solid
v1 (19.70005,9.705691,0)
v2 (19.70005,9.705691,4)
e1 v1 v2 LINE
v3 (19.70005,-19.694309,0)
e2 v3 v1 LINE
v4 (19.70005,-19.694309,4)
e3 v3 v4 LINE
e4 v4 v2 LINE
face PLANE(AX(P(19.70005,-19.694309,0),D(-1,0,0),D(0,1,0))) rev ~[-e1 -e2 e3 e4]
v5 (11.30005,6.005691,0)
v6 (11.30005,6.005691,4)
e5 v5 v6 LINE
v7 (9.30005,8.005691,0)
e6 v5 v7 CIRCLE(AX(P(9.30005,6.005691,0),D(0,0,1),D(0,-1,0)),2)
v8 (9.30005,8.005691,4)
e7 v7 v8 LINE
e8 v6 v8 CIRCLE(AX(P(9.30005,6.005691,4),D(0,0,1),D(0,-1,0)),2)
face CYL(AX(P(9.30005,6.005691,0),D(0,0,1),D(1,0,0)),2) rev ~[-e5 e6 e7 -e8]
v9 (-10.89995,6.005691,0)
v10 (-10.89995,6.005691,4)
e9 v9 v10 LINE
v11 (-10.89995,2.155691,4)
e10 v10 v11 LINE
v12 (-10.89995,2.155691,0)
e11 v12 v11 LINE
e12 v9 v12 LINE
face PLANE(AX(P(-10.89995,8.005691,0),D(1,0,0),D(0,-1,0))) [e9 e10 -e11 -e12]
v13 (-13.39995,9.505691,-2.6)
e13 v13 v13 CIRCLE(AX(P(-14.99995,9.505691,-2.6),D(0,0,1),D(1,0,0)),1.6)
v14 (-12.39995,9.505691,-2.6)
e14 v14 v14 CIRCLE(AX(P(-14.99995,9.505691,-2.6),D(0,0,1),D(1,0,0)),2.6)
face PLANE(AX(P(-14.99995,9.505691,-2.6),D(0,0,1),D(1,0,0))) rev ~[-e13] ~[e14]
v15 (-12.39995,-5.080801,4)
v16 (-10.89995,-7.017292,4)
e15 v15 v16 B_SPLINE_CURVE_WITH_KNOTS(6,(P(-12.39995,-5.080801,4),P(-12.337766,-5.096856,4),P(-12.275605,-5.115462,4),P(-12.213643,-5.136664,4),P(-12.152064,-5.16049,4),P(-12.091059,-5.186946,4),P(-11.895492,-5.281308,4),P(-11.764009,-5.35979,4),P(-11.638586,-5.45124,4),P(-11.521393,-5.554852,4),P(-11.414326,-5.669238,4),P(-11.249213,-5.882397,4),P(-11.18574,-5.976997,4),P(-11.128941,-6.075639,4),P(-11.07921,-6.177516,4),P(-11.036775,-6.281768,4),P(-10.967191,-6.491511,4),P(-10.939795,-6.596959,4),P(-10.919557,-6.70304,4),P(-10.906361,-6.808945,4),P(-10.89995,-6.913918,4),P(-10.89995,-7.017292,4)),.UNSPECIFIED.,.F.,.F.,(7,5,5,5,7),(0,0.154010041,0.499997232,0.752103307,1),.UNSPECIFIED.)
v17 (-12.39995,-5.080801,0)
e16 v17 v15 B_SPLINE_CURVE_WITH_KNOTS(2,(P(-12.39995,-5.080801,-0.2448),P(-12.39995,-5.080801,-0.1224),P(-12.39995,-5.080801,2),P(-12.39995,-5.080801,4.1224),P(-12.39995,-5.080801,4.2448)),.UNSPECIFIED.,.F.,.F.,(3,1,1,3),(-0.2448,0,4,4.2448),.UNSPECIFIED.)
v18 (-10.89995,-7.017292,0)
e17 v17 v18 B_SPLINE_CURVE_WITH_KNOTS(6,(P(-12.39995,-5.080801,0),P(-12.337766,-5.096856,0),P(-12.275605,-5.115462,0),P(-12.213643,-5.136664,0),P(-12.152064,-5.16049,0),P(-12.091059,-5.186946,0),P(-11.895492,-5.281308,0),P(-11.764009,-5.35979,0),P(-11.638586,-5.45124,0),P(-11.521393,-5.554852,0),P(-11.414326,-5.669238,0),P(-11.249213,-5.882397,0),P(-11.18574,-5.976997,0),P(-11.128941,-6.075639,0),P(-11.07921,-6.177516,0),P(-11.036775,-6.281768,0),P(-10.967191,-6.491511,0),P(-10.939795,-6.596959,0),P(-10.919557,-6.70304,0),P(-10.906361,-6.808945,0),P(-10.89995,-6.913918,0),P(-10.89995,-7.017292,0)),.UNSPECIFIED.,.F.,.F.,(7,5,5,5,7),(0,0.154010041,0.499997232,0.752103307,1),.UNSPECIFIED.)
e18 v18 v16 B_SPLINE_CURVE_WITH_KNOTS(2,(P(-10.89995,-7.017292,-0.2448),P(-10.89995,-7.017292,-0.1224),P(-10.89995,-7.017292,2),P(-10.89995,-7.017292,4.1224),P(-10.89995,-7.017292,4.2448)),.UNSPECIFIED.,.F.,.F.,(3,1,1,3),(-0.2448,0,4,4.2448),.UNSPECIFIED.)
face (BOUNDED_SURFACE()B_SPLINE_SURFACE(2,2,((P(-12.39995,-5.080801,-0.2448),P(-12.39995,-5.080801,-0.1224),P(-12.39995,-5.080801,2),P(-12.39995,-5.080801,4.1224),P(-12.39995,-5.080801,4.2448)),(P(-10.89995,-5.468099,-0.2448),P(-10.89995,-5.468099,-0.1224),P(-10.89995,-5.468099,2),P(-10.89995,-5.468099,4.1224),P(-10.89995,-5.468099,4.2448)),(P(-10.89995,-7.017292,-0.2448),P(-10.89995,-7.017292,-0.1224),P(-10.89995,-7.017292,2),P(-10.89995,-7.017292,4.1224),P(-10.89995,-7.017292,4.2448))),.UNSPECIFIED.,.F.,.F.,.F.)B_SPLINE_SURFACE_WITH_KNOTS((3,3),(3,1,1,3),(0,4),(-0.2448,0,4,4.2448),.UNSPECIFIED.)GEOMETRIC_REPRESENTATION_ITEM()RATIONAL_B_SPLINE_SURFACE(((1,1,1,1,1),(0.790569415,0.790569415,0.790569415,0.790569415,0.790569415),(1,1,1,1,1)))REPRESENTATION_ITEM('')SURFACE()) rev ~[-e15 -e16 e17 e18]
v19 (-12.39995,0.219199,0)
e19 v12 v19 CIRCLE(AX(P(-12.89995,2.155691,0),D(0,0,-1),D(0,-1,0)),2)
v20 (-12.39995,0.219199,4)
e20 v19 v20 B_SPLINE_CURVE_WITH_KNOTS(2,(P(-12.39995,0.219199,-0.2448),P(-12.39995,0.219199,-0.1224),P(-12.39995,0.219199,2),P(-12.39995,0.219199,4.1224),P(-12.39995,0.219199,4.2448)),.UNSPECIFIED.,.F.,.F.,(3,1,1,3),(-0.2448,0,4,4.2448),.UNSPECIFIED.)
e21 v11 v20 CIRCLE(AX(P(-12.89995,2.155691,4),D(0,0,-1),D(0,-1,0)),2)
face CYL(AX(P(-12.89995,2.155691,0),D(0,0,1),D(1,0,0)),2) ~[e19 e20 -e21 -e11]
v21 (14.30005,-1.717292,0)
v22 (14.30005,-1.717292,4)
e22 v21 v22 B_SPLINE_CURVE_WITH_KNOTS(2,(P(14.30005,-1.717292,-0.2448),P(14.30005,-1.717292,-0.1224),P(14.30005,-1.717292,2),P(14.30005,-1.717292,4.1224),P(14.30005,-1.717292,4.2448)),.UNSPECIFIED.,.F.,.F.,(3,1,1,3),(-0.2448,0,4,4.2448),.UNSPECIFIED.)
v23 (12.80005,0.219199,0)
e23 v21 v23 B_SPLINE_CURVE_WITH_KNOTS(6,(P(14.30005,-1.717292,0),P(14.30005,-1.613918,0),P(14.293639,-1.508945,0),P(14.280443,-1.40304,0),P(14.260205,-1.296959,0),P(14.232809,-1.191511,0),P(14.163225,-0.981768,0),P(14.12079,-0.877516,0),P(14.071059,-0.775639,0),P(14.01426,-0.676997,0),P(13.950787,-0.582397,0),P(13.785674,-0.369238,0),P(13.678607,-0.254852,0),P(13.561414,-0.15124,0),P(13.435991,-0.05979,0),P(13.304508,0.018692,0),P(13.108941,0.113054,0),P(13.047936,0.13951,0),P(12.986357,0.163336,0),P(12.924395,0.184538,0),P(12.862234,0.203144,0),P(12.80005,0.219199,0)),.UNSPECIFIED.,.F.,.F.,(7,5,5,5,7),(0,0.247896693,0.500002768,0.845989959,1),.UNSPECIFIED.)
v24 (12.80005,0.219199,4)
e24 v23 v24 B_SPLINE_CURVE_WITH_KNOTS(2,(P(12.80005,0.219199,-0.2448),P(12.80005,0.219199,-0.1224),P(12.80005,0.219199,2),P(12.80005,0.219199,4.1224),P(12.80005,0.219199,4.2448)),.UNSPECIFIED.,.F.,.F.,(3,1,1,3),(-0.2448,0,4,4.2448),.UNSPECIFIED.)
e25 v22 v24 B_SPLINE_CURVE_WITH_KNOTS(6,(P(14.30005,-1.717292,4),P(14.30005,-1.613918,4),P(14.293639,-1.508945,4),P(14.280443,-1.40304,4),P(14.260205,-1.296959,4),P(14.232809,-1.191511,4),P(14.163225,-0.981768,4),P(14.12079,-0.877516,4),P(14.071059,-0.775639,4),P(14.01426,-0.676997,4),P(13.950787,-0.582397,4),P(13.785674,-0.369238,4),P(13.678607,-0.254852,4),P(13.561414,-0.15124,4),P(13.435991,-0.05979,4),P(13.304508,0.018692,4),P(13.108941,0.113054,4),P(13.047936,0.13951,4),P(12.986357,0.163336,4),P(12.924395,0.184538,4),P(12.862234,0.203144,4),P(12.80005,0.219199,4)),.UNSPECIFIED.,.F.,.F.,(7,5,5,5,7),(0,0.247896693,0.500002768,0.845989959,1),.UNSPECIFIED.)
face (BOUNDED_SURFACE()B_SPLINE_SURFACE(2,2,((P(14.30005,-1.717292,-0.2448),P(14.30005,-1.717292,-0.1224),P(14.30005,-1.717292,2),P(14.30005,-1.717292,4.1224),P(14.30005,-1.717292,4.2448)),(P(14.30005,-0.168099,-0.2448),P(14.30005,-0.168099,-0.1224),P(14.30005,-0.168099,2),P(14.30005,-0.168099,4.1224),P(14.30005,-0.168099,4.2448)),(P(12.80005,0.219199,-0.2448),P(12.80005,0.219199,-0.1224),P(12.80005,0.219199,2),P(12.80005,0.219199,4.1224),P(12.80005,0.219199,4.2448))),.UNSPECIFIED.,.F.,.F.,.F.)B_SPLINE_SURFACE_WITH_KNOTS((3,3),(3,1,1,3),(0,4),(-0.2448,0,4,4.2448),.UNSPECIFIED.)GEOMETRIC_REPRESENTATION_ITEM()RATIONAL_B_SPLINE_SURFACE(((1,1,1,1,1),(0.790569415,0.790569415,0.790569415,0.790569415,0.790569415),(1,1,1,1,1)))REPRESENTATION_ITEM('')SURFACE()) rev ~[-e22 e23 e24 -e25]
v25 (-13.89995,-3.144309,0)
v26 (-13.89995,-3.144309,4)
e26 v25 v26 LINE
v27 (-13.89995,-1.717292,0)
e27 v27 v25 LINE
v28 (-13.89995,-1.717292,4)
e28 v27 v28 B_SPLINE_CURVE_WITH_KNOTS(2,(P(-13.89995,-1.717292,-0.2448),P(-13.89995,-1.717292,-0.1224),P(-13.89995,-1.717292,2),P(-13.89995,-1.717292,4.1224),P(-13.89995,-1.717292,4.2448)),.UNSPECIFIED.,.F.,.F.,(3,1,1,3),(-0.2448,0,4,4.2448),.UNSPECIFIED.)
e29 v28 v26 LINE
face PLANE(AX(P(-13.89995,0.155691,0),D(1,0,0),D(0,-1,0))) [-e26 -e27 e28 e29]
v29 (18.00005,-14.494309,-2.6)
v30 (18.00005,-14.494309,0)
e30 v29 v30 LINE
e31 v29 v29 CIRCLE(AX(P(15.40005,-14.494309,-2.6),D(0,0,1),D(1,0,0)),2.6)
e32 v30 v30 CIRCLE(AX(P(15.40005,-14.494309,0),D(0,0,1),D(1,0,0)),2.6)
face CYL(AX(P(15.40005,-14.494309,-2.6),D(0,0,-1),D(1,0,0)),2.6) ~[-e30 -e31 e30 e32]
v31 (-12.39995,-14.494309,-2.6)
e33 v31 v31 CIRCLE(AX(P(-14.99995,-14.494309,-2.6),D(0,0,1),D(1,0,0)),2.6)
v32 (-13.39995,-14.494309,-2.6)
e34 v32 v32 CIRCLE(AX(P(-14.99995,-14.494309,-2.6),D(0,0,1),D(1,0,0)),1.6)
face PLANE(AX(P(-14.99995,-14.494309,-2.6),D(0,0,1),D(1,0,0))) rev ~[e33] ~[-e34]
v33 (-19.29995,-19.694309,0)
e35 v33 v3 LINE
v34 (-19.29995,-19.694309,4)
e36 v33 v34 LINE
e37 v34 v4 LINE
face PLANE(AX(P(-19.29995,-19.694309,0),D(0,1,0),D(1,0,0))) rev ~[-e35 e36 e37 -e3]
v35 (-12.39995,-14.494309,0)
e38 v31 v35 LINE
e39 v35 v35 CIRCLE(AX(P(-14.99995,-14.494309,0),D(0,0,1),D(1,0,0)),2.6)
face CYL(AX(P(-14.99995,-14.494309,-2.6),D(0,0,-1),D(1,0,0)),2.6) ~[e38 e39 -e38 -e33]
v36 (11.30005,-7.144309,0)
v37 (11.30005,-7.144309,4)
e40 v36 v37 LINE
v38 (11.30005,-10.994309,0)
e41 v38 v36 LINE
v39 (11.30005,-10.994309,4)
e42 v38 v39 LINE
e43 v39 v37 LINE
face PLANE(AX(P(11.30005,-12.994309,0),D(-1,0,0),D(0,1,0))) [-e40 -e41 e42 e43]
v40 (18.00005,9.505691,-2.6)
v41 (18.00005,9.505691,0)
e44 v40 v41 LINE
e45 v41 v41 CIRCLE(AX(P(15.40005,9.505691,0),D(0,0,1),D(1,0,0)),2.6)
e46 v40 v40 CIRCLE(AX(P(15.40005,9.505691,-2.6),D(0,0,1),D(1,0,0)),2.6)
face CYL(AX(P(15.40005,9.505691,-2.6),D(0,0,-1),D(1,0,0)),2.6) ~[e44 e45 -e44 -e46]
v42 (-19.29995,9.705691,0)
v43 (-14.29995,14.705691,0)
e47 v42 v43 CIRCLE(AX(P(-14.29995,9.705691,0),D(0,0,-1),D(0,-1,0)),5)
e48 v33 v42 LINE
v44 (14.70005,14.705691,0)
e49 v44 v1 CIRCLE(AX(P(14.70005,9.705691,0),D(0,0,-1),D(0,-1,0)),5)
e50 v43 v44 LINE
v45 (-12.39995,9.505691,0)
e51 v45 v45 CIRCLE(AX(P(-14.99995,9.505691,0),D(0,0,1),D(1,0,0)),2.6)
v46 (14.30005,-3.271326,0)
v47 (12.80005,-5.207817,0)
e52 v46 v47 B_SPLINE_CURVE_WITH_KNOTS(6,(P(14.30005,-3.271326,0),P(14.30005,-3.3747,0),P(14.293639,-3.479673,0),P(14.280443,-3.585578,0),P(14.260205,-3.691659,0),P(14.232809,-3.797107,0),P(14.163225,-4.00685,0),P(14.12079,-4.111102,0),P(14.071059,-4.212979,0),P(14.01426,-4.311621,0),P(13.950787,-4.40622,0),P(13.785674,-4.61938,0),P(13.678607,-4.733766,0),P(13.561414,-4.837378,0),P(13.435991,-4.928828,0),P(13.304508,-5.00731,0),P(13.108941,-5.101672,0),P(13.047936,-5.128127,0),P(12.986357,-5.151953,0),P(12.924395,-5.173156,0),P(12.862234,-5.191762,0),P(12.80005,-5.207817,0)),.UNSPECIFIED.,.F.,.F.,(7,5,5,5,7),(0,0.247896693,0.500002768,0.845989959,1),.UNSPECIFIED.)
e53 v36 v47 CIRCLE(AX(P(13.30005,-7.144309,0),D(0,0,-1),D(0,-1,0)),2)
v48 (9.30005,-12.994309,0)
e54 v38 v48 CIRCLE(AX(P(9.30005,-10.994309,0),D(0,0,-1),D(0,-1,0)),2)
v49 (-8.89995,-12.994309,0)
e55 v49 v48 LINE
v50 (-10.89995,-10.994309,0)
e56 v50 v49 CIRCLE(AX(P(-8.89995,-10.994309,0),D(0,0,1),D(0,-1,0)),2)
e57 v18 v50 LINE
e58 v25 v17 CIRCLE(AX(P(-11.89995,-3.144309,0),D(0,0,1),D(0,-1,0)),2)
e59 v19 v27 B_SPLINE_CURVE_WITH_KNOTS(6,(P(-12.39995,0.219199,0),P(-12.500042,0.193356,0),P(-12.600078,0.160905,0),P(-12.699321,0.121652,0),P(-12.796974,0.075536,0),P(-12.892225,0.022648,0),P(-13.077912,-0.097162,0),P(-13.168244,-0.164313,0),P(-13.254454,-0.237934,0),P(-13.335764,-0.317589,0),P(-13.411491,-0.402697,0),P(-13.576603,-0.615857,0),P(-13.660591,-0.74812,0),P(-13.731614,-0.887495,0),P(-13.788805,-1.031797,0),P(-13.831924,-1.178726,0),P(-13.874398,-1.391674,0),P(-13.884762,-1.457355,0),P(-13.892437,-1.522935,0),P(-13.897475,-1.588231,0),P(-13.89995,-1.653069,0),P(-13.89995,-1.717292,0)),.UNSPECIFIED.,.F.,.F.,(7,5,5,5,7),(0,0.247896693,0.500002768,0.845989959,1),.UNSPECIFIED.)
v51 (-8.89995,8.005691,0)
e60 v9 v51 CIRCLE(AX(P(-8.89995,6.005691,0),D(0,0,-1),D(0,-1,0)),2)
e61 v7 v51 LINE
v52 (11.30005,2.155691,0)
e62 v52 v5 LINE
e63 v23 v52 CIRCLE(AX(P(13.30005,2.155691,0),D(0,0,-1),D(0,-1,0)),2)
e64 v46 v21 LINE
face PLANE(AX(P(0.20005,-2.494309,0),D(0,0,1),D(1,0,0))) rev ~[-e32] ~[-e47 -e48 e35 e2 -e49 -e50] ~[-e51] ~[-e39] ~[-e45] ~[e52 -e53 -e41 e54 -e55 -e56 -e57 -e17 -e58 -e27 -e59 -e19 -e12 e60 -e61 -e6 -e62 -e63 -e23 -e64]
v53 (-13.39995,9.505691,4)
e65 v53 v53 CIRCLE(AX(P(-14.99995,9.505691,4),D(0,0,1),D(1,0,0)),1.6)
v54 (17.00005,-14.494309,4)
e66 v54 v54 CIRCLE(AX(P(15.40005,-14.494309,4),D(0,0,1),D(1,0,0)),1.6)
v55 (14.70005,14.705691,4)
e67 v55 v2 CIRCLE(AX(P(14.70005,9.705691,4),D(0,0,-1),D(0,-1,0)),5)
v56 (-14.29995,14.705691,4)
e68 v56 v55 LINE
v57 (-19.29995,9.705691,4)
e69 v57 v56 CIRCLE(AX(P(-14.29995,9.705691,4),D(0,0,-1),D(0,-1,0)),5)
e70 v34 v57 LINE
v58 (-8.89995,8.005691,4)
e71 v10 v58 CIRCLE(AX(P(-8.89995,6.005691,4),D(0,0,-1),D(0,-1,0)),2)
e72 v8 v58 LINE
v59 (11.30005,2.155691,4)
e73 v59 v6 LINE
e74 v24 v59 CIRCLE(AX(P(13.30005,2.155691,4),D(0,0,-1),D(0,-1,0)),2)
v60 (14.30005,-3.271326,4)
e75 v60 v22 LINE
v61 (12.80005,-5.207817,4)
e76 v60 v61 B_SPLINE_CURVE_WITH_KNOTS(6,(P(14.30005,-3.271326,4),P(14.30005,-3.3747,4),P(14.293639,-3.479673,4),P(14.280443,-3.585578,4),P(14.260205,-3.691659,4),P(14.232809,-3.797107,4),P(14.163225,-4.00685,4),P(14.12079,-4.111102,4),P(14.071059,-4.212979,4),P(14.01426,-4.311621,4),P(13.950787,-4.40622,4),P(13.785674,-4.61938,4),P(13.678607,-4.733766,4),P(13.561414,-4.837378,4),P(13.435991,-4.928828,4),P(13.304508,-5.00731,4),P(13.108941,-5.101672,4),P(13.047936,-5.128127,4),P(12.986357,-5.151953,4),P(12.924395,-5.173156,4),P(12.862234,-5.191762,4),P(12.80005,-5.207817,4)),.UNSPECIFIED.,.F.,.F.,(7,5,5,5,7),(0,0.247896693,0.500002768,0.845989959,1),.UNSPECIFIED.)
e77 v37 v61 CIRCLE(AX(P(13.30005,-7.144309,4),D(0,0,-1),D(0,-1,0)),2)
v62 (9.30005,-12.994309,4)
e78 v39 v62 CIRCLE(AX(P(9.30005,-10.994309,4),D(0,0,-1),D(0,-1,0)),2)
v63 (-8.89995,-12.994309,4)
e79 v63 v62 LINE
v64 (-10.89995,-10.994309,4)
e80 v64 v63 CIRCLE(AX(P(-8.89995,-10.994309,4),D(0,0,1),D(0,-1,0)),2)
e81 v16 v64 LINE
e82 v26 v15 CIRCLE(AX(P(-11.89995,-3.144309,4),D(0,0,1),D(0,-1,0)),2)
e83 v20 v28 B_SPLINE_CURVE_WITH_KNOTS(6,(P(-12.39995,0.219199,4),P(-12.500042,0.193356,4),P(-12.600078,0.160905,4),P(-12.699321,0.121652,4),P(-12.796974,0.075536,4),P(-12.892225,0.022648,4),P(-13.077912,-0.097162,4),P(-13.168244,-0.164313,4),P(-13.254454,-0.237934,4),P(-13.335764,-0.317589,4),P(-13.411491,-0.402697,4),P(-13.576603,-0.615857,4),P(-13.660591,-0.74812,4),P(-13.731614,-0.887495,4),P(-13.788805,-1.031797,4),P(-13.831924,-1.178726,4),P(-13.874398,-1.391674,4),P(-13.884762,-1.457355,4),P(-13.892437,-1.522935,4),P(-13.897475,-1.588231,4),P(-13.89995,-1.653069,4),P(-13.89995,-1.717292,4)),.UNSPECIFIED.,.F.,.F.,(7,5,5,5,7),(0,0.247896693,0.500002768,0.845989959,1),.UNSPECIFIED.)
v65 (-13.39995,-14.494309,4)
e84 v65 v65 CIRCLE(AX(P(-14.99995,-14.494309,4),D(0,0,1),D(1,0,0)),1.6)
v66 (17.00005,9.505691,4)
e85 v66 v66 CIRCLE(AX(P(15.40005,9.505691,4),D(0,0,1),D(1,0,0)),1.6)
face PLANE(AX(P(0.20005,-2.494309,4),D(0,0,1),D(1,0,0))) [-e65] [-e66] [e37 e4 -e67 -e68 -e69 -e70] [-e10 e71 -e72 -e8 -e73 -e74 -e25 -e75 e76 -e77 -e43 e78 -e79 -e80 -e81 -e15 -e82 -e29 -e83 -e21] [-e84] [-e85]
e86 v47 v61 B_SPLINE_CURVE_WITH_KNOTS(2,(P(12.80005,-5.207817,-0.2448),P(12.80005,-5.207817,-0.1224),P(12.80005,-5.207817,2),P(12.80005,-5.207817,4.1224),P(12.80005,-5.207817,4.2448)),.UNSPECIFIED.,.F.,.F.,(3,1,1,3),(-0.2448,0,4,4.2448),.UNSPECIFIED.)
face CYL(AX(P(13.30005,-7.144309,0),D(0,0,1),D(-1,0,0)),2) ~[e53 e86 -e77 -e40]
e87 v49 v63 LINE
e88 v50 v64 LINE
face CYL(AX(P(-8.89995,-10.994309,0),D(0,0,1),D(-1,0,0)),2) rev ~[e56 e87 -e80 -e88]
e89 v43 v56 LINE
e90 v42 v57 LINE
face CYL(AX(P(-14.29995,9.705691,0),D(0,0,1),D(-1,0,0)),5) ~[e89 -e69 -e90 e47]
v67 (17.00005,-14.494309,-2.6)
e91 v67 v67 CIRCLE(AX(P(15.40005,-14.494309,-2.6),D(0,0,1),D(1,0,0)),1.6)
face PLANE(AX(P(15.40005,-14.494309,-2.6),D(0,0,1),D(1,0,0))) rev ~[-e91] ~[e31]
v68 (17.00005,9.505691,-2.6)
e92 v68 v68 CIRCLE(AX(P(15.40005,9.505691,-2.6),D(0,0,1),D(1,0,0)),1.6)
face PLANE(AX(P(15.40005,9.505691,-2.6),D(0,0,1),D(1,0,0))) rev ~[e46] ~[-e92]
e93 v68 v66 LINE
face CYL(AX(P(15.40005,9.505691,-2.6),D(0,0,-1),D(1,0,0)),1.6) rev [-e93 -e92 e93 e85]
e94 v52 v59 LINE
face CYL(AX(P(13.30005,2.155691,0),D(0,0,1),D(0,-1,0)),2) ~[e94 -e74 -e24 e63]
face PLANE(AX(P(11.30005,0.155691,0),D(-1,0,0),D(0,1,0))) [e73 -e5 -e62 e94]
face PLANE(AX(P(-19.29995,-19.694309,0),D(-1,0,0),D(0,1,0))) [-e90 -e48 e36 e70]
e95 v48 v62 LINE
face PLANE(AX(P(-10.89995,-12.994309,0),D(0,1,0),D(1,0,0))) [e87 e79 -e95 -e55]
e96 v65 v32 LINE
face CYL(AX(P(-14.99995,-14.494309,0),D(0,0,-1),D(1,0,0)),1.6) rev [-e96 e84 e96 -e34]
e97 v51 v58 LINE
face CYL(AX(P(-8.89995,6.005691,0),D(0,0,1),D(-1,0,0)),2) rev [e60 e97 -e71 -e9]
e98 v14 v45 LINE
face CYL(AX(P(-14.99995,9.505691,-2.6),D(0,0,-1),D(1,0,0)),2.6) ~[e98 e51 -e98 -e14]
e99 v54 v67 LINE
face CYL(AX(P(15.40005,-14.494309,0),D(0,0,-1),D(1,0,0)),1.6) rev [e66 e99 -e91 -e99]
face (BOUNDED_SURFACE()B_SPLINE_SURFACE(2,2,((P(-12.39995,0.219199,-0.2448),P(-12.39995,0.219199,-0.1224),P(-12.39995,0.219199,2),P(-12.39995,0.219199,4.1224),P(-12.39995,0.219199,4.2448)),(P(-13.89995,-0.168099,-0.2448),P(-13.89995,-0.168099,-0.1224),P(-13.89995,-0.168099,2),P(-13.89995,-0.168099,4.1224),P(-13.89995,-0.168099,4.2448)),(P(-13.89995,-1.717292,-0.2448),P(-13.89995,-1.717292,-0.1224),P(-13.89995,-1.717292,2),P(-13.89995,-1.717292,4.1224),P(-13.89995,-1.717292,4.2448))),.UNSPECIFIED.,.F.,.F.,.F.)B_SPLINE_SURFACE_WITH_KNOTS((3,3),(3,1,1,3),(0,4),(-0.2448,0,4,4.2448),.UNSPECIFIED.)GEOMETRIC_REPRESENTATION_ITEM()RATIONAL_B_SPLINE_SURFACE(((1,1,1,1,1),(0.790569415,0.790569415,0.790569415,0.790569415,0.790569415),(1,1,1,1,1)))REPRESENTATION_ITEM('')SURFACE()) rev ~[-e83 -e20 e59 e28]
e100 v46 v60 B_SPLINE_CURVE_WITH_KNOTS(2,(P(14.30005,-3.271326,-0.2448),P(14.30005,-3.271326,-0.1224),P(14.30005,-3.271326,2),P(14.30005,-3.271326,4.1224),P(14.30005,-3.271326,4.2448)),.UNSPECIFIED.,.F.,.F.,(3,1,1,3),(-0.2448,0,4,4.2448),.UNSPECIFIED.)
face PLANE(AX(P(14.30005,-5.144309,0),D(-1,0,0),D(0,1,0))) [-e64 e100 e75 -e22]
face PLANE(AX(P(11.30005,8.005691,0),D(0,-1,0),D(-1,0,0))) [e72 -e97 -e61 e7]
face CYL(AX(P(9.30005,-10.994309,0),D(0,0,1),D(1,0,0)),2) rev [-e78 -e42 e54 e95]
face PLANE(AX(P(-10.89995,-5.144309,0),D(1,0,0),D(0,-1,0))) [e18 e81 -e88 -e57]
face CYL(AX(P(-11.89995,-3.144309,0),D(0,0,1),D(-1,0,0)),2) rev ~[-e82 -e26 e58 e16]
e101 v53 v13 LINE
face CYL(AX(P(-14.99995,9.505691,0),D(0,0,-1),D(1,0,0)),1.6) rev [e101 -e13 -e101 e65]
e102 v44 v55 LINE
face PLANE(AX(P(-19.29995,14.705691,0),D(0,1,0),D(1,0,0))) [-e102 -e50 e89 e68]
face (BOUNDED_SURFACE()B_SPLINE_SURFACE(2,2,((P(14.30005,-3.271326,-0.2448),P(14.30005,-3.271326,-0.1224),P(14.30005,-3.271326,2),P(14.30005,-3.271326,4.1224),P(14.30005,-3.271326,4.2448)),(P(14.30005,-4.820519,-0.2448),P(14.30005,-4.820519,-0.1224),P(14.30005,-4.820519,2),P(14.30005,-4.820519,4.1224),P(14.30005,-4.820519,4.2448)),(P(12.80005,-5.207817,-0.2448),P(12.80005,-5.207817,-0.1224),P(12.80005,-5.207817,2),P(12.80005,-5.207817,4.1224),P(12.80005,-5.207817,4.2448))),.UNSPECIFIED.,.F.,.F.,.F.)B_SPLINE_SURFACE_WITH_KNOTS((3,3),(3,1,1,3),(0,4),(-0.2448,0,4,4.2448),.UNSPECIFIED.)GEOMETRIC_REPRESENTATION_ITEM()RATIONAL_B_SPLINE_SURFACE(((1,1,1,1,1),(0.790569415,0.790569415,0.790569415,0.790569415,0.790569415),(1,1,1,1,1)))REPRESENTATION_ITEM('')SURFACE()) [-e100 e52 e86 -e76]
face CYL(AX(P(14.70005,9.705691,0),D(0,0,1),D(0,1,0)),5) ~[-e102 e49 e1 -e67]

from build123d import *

# Parameters (mm, degrees)
SKETCH1_W           = 39
SKETCH1_H           = 34.4
SKETCH1_R           = 1.6
BOSS_EXTRUDE5_DEPTH = 4
FILLET1_R           = 5
BOSS_EXTRUDE6_START = -2.6
SKETCH4_R           = 2.6
SKETCH4_R_2         = 1.6
BOSS_EXTRUDE6_DEPTH = 2.6
FILLET4_R           = 2
FILLET5_R           = 2
FILLET6_R           = 2
FILLET8_R           = 2
FILLET9_R           = 2
FILLET10_R          = 2
FILLET11_R          = 2
FILLET12_R          = 2
FILLET13_R          = 2
FILLET14_R          = 2
FILLET15_R          = 2
FILLET16_R          = 2


with BuildPart() as part:
    # Sketch1 → Boss-Extrude5 (new body)
    with BuildSketch(Plane.XY):
        with Locations((0.200050248, -2.49430892)):
            Rectangle(SKETCH1_W, SKETCH1_H)
        with Locations((-14.999949752, 9.50569108)):
            Circle(SKETCH1_R, mode=Mode.SUBTRACT)
        with Locations((15.400050248, 9.50569108)):
            Circle(SKETCH1_R, mode=Mode.SUBTRACT)
        with Locations((-14.999949752, -14.49430892)):
            Circle(SKETCH1_R, mode=Mode.SUBTRACT)
        with Locations((15.400050248, -14.49430892)):
            Circle(SKETCH1_R, mode=Mode.SUBTRACT)
        Polygon((14.300050248, 0.15569108), (11.300050248, 0.15569108), (11.300050248, 8.00569108), (-10.899949752, 8.00569108), (-10.899949752, 0.15569108), (-13.899949752, 0.15569108), (-13.899949752, -5.14430892), (-10.899949752, -5.14430892), (-10.899949752, -12.99430892), (11.300050248, -12.99430892), (11.300050248, -5.14430892), (14.300050248, -5.14430892), align=None, mode=Mode.SUBTRACT)
    extrude(amount=BOSS_EXTRUDE5_DEPTH)

    # Fillet1
    fillet1_edges = [part.edges().sort_by_distance(p)[0] for p in [
        (-19.299949752, 14.70569108, 2),
        (19.700050248, 14.70569108, 2),
    ]]
    fillet(fillet1_edges, radius=FILLET1_R)

    # Sketch4 → Boss-Extrude6 (add)
    # profile 1 of 4: a face of its own
    with BuildSketch(Plane.XY.offset(BOSS_EXTRUDE6_START)):
        with Locations((15.400050248, 9.50569108)):
            Circle(SKETCH4_R)
        with Locations((15.400050248, 9.50569108)):
            Circle(SKETCH4_R_2, mode=Mode.SUBTRACT)
    # profile 2 of 4: a face of its own
    with BuildSketch(Plane.XY.offset(BOSS_EXTRUDE6_START)):
        with Locations((-14.999949752, 9.50569108)):
            Circle(SKETCH4_R)
        with Locations((-14.999949752, 9.50569108)):
            Circle(SKETCH4_R_2, mode=Mode.SUBTRACT)
    # profile 3 of 4: a face of its own
    with BuildSketch(Plane.XY.offset(BOSS_EXTRUDE6_START)):
        with Locations((15.400050248, -14.49430892)):
            Circle(SKETCH4_R)
        with Locations((15.400050248, -14.49430892)):
            Circle(SKETCH4_R_2, mode=Mode.SUBTRACT)
    # profile 4 of 4: a face of its own
    with BuildSketch(Plane.XY.offset(BOSS_EXTRUDE6_START)):
        with Locations((-14.999949752, -14.49430892)):
            Circle(SKETCH4_R)
        with Locations((-14.999949752, -14.49430892)):
            Circle(SKETCH4_R_2, mode=Mode.SUBTRACT)
    extrude(amount=BOSS_EXTRUDE6_DEPTH)

    # Fillet4
    fillet4_edges = [part.edges().sort_by_distance(p)[0] for p in [
        (-10.899949752, 8.00569108, 2),
    ]]
    fillet(fillet4_edges, radius=FILLET4_R)

    # Fillet5
    fillet5_edges = [part.edges().sort_by_distance(p)[0] for p in [
        (-10.899949752, 0.15569108, 2),
    ]]
    fillet(fillet5_edges, radius=FILLET5_R)

    # Fillet6
    fillet6_edges = [part.edges().sort_by_distance(p)[0] for p in [
        (-13.899949752, 0.15569108, 2),
    ]]
    fillet(fillet6_edges, radius=FILLET6_R)

    # Fillet8
    fillet8_edges = [part.edges().sort_by_distance(p)[0] for p in [
        (-13.899949752, -5.14430892, 2),
    ]]
    fillet(fillet8_edges, radius=FILLET8_R)

    # Fillet9
    fillet9_edges = [part.edges().sort_by_distance(p)[0] for p in [
        (-10.899949752, -5.14430892, 2),
    ]]
    fillet(fillet9_edges, radius=FILLET9_R)

    # Fillet10
    fillet10_edges = [part.edges().sort_by_distance(p)[0] for p in [
        (-10.899949752, -12.99430892, 2),
    ]]
    fillet(fillet10_edges, radius=FILLET10_R)

    # Fillet11
    fillet11_edges = [part.edges().sort_by_distance(p)[0] for p in [
        (11.300050248, -5.14430892, 2),
    ]]
    fillet(fillet11_edges, radius=FILLET11_R)

    # Fillet12
    fillet12_edges = [part.edges().sort_by_distance(p)[0] for p in [
        (11.300050248, 0.15569108, 2),
    ]]
    fillet(fillet12_edges, radius=FILLET12_R)

    # Fillet13
    fillet13_edges = [part.edges().sort_by_distance(p)[0] for p in [
        (11.300050248, -12.99430892, 2),
    ]]
    fillet(fillet13_edges, radius=FILLET13_R)

    # Fillet14
    fillet14_edges = [part.edges().sort_by_distance(p)[0] for p in [
        (14.300050248, 0.15569108, 2),
    ]]
    fillet(fillet14_edges, radius=FILLET14_R)

    # Fillet15
    fillet15_edges = [part.edges().sort_by_distance(p)[0] for p in [
        (11.300050248, 8.00569108, 2),
    ]]
    fillet(fillet15_edges, radius=FILLET15_R)

    # Fillet16
    fillet16_edges = [part.edges().sort_by_distance(p)[0] for p in [
        (14.300050248, -5.14430892, 2),
    ]]
    fillet(fillet16_edges, radius=FILLET16_R)


solid = part.part
